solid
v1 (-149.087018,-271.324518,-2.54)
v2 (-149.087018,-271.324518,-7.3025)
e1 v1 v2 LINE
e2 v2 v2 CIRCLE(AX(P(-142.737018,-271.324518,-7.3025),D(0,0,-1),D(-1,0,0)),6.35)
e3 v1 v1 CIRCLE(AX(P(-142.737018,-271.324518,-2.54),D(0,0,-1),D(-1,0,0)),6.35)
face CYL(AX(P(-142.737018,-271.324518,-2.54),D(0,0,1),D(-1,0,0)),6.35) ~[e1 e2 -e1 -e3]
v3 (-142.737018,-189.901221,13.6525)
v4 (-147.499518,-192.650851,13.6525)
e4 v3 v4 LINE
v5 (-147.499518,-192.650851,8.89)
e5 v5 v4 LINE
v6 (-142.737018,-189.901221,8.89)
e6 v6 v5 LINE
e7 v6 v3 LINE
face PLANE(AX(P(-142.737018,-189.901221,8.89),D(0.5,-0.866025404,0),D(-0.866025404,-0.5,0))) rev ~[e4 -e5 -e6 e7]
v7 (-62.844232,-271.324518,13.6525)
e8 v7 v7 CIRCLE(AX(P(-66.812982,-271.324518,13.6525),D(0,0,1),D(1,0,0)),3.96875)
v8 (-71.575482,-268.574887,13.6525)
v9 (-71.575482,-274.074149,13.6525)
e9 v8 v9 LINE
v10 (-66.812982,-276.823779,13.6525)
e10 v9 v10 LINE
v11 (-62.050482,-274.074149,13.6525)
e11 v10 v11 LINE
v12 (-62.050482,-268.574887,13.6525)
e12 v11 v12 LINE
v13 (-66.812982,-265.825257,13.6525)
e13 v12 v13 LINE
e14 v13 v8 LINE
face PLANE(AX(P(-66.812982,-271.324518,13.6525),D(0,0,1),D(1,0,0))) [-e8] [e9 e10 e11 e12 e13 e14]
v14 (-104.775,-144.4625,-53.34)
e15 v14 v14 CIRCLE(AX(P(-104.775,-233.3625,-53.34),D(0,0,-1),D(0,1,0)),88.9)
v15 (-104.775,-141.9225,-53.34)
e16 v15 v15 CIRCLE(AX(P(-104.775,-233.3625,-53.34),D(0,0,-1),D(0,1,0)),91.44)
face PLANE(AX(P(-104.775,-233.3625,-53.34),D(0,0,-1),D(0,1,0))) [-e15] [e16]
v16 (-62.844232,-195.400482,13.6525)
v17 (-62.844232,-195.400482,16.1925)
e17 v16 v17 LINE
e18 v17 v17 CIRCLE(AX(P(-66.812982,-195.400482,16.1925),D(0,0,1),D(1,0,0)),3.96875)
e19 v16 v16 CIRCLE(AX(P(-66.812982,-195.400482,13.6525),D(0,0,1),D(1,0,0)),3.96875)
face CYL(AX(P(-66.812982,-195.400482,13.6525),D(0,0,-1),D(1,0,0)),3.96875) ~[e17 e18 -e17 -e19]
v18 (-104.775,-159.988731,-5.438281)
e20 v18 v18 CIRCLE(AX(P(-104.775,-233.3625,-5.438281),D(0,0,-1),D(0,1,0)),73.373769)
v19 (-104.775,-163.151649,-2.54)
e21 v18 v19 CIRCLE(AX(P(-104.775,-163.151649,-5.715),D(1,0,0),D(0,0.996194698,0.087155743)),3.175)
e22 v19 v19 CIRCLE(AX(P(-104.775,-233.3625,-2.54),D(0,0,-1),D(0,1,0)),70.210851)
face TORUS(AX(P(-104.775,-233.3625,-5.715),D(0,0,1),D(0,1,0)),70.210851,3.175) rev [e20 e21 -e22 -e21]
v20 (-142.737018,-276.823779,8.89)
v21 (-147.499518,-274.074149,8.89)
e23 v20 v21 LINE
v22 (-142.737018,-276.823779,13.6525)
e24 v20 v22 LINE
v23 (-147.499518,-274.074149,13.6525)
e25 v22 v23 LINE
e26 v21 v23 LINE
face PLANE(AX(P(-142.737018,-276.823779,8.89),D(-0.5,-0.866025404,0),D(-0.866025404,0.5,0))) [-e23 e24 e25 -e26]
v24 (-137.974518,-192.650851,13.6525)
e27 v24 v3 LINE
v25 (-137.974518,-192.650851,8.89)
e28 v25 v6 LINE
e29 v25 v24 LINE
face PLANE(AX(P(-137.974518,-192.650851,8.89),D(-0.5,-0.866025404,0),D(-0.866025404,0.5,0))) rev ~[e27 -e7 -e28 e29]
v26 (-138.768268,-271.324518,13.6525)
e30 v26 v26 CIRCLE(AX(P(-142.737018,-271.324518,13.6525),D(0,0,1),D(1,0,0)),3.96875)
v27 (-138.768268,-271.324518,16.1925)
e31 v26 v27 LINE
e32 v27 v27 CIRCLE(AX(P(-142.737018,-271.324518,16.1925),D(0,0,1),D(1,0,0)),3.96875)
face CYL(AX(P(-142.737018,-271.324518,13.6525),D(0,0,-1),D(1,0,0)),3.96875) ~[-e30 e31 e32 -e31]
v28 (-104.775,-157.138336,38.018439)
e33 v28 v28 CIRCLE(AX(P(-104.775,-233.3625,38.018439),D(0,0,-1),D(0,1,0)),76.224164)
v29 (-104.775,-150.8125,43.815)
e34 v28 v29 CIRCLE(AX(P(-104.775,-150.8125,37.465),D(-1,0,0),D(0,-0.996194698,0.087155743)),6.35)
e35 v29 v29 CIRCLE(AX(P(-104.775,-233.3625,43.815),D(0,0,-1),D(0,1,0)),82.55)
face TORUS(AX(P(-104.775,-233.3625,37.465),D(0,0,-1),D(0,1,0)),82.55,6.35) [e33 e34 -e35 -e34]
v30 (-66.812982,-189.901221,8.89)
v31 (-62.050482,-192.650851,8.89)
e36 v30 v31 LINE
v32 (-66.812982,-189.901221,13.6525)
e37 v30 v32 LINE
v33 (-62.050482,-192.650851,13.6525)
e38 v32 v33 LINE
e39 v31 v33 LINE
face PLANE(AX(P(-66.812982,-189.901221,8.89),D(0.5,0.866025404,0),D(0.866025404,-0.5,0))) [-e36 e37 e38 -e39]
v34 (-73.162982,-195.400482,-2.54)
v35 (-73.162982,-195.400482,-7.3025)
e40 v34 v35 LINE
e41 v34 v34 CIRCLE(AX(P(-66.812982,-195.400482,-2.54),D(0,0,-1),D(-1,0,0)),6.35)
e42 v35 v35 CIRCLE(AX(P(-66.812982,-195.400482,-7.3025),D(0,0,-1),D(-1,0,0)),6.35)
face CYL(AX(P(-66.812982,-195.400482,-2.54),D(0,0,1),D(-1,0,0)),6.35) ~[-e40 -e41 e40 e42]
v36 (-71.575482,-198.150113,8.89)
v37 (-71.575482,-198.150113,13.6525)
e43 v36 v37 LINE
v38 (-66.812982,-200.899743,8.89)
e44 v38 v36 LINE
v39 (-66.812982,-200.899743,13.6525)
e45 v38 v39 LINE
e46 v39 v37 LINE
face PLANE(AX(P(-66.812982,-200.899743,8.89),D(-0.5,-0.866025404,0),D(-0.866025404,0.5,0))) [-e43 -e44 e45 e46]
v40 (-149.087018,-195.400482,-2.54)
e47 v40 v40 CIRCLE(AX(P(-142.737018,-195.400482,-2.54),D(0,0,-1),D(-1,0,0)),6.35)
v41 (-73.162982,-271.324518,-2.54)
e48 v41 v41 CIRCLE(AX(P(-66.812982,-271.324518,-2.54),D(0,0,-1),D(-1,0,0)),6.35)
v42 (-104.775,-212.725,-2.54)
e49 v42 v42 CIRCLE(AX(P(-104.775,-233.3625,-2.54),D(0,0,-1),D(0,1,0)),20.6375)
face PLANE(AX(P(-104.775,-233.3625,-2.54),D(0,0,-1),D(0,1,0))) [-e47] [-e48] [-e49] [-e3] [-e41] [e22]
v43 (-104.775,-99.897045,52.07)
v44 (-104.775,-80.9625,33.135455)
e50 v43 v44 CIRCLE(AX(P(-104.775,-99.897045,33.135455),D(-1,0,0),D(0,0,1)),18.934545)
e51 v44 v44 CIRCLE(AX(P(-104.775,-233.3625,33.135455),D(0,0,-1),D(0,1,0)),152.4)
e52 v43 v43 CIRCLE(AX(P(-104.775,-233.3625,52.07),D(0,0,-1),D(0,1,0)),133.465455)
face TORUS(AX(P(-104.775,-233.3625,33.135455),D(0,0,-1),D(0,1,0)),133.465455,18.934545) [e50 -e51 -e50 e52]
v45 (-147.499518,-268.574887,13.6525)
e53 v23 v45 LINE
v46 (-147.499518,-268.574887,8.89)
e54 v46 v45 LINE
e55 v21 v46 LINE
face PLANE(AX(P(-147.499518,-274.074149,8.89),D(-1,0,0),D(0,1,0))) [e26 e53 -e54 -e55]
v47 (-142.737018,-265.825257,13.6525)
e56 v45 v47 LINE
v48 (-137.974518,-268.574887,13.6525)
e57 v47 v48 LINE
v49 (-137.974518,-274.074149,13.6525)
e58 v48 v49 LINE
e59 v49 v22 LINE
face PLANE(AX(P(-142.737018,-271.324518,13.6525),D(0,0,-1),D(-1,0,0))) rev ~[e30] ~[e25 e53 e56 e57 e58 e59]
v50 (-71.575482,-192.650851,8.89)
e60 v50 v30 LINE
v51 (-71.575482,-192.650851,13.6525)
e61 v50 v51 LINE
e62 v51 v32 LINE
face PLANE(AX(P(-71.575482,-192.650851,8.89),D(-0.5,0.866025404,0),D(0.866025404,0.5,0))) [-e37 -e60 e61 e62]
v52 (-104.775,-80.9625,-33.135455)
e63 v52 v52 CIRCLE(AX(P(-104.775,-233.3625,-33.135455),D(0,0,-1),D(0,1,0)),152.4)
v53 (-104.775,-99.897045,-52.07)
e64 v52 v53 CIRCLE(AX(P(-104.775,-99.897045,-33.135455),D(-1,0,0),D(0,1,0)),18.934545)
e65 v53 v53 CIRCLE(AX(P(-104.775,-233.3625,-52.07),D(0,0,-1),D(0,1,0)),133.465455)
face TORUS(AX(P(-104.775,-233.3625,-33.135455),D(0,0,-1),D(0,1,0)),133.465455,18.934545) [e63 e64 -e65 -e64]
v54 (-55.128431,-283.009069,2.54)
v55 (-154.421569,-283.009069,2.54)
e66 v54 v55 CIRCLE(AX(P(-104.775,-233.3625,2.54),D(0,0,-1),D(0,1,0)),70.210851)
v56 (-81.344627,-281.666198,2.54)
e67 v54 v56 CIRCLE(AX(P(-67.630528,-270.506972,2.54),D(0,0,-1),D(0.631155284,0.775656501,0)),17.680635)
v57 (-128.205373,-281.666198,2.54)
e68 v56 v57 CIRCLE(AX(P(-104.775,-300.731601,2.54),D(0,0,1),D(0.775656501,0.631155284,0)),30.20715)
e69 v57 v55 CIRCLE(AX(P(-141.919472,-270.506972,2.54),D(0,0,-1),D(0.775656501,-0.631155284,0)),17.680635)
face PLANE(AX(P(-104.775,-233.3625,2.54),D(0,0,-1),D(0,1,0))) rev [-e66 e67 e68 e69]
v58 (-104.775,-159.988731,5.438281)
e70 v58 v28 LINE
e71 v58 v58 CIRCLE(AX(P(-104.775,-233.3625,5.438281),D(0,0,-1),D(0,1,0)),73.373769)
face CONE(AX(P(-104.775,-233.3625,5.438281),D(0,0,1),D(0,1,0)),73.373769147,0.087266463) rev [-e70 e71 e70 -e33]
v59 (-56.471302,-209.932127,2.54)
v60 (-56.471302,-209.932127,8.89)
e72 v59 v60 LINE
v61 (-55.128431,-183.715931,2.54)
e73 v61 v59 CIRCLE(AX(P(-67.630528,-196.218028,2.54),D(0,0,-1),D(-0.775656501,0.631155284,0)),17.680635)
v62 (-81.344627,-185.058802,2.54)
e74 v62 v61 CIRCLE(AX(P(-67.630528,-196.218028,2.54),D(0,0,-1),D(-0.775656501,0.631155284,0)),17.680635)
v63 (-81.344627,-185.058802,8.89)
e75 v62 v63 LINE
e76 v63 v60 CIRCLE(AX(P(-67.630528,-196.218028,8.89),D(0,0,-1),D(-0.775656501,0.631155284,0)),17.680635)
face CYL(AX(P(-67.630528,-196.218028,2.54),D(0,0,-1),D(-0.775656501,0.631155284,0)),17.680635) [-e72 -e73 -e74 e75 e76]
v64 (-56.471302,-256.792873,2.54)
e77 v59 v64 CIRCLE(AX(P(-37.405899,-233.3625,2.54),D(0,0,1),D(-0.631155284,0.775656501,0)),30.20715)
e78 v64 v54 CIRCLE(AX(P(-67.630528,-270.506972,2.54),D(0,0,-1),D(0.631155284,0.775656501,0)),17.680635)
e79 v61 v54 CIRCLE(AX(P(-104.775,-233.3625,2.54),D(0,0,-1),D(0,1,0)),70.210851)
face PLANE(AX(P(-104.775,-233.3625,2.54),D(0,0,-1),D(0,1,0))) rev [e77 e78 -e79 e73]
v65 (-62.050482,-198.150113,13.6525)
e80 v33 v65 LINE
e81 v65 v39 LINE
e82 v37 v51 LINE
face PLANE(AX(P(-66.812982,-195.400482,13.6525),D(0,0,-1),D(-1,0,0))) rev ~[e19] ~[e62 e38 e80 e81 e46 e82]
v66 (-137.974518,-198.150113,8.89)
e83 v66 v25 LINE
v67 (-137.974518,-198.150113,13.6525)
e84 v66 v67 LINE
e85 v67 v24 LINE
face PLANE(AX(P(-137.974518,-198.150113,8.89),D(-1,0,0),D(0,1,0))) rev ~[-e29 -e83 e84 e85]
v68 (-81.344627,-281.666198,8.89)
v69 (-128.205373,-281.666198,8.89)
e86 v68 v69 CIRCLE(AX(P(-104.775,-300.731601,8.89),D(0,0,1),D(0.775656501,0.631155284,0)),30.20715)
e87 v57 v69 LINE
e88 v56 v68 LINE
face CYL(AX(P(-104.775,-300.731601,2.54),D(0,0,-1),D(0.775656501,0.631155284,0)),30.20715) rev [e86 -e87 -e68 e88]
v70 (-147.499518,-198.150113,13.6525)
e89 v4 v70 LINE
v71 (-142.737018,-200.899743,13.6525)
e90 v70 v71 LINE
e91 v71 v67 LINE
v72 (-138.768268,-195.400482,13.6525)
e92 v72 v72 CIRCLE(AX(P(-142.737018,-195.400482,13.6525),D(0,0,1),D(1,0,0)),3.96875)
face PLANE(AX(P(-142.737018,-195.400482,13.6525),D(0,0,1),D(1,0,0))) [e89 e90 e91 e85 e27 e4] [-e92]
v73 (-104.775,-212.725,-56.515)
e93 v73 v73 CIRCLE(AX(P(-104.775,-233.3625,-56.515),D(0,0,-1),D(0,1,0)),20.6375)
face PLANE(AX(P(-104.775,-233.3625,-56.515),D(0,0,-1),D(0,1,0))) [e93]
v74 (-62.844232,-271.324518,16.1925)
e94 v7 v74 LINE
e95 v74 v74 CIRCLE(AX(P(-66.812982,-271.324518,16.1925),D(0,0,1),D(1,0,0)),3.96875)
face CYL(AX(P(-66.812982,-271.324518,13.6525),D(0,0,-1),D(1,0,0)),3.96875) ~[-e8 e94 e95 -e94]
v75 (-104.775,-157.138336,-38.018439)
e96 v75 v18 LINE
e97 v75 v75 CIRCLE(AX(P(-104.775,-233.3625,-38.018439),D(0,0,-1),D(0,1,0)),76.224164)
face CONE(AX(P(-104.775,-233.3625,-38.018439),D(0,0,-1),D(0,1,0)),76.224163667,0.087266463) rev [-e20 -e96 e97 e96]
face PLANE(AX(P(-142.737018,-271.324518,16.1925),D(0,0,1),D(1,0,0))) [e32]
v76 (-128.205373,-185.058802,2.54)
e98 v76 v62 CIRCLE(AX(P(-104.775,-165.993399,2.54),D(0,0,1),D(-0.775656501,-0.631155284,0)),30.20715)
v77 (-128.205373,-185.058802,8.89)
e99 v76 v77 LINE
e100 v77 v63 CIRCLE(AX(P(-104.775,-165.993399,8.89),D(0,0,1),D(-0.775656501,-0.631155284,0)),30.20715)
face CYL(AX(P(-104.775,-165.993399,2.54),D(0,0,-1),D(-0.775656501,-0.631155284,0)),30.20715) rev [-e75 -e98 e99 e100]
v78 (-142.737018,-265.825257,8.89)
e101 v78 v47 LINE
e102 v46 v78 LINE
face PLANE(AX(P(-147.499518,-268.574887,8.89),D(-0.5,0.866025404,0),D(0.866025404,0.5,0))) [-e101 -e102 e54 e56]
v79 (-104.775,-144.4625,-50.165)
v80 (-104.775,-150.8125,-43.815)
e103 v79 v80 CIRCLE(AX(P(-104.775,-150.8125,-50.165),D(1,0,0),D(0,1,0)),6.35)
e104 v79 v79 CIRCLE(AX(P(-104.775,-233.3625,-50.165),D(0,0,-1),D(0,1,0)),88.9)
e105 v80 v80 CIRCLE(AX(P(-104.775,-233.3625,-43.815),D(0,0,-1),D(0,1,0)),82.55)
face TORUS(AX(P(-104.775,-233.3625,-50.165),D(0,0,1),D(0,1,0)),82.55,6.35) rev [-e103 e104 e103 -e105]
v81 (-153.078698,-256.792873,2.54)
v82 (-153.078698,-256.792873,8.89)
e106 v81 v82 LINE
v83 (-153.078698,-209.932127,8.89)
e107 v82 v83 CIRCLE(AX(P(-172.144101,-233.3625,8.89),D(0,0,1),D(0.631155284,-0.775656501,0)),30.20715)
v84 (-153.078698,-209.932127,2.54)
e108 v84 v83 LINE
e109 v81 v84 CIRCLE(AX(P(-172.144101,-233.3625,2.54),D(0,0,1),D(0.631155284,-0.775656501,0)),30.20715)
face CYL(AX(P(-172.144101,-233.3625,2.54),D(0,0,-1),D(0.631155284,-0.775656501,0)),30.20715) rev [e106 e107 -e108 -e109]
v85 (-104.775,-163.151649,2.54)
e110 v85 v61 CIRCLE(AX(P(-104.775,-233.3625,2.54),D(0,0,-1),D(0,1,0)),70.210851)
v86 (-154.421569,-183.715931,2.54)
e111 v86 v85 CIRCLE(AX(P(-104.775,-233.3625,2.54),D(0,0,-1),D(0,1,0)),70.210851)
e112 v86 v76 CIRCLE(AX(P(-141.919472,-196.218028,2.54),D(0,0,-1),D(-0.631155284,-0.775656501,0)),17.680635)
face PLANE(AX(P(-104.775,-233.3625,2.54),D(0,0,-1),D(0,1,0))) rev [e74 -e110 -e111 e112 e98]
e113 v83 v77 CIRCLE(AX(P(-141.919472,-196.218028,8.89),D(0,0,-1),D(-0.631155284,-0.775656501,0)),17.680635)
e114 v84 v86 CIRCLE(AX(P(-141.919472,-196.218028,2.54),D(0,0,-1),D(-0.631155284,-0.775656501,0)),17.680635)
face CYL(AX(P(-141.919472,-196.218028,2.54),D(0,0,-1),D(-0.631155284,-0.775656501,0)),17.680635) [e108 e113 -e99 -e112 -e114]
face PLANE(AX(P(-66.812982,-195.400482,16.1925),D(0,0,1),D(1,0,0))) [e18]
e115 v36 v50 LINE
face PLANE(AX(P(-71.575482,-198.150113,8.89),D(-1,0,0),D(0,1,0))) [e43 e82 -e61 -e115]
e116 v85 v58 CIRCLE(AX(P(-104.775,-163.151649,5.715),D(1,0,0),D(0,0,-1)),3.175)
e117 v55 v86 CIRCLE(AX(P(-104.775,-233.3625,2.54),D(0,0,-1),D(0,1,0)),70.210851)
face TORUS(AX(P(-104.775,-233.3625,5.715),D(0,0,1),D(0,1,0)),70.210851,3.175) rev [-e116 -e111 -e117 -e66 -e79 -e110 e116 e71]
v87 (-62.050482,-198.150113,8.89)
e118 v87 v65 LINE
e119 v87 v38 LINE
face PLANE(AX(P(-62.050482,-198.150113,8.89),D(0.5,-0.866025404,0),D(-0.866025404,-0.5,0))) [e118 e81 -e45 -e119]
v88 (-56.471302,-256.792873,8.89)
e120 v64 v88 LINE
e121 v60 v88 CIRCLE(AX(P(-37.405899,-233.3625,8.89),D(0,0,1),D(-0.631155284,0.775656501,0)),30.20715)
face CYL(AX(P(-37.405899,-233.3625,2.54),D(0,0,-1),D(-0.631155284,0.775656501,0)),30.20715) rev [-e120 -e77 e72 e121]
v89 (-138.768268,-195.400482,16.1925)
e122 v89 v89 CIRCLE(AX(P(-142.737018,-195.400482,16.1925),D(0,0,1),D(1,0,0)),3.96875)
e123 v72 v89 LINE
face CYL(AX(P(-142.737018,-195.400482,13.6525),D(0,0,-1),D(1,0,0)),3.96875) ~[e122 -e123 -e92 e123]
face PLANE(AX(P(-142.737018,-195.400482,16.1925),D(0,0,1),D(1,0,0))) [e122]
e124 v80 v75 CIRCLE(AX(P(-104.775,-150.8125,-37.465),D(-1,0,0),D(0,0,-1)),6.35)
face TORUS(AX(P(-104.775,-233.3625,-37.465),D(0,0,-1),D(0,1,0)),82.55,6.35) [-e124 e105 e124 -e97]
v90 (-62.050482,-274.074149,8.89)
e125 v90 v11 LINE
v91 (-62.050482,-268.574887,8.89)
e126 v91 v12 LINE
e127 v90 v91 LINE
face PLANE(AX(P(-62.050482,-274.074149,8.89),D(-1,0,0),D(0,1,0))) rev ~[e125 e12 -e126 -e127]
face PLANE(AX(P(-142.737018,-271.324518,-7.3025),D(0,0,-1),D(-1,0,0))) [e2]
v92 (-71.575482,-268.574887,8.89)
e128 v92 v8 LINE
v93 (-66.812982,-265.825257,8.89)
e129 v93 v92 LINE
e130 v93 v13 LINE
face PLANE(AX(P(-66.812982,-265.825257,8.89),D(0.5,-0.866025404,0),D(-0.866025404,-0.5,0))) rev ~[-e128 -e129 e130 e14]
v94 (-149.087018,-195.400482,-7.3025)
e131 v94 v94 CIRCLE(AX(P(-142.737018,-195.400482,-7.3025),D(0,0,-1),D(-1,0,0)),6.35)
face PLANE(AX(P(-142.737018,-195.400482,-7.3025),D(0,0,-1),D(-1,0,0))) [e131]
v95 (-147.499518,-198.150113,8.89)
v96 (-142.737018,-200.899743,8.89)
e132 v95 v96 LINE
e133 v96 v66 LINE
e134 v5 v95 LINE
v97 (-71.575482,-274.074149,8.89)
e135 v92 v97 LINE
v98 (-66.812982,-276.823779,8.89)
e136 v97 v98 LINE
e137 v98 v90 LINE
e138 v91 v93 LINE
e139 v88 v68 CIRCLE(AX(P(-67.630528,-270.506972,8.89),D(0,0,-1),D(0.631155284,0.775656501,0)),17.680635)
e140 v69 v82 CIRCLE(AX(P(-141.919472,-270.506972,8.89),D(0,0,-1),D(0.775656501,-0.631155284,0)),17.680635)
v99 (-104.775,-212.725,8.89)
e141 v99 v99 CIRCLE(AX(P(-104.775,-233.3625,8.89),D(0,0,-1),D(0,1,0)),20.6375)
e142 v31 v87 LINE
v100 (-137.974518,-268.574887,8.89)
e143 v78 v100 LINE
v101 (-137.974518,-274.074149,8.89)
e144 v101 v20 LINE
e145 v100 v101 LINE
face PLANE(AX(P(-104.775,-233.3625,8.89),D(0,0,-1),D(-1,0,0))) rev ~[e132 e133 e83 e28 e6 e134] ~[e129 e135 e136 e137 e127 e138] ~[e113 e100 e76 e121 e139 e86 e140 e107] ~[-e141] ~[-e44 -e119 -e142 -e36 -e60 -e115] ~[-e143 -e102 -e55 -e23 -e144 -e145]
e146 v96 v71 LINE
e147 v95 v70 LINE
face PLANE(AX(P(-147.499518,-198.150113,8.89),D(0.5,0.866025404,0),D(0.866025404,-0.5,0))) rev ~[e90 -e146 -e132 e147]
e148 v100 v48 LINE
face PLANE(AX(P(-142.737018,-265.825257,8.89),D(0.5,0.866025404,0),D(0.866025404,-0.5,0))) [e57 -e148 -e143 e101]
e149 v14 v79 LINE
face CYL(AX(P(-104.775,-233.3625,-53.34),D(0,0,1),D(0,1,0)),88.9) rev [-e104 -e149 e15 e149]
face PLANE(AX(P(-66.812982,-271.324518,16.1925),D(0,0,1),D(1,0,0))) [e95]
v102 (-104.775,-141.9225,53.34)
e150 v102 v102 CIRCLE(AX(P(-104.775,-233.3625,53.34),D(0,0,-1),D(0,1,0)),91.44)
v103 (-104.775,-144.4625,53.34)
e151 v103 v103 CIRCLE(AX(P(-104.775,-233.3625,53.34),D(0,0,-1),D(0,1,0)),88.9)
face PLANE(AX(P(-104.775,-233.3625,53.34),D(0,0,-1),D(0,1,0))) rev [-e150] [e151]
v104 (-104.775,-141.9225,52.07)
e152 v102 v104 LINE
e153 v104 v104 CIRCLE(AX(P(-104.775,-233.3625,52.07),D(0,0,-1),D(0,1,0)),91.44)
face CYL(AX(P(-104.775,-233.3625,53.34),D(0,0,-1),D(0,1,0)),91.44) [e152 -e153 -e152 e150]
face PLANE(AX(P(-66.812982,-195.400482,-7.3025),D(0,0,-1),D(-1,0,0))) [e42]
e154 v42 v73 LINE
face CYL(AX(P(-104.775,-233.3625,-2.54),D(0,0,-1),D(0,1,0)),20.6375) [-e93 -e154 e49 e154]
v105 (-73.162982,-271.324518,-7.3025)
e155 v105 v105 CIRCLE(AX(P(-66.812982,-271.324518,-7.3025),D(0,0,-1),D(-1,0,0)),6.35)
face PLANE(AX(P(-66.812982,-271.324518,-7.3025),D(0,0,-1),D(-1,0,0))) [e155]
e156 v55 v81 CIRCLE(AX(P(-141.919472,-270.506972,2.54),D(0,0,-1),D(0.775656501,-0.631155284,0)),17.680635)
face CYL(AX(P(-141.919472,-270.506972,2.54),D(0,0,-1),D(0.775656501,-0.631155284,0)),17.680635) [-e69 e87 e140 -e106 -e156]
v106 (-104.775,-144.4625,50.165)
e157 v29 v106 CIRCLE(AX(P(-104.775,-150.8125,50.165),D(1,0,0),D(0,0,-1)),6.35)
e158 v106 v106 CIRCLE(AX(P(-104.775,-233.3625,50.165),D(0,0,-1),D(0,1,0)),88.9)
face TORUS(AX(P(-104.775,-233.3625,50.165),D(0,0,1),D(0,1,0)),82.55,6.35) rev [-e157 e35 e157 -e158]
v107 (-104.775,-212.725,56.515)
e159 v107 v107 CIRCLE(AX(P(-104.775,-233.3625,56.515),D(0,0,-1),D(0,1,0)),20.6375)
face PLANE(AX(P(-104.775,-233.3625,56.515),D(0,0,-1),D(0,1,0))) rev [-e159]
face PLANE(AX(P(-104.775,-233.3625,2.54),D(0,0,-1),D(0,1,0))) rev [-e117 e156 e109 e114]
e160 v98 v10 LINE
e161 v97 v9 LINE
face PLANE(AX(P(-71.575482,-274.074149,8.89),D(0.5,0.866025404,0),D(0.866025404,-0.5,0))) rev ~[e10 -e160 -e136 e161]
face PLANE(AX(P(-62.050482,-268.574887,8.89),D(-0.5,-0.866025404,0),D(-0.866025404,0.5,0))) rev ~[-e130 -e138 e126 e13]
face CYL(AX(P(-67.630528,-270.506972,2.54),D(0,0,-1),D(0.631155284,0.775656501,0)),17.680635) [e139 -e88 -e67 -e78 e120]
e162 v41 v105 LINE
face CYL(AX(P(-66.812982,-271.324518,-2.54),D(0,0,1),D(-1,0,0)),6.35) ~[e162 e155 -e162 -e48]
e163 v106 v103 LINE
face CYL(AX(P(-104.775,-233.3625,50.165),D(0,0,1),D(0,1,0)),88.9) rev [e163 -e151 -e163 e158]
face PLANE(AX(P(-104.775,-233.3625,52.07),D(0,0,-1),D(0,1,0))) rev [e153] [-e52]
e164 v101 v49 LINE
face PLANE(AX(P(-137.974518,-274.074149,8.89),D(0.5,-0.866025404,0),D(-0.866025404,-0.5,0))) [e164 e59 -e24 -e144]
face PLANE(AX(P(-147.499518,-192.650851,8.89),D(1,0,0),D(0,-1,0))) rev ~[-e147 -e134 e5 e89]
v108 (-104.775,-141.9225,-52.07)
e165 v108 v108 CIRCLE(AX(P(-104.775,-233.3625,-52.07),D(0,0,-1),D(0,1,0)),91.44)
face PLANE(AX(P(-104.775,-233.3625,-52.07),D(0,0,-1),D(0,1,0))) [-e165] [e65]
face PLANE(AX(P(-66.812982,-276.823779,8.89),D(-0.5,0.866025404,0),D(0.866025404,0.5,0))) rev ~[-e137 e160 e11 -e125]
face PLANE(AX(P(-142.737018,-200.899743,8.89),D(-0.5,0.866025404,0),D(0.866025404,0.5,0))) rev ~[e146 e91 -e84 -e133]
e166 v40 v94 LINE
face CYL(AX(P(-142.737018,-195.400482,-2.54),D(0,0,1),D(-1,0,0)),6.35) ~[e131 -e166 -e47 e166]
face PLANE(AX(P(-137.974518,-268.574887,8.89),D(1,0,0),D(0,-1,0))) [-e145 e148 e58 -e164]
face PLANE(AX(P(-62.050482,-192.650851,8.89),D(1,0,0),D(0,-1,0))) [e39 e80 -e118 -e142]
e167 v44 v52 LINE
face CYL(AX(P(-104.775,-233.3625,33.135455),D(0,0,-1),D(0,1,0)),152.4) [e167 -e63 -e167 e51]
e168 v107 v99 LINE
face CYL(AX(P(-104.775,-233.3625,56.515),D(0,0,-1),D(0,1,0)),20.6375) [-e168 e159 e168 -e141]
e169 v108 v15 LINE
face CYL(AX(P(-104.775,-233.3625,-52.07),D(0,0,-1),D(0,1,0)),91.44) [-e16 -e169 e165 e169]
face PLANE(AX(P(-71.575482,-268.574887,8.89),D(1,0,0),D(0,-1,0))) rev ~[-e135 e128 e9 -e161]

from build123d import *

# Parameters (mm, degrees)
BOSS_EXTRUDE5_DEPTH = 6.35
BOSS_EXTRUDE6_DEPTH = 4.7625
SKETCH15_R          = 3.96875
BOSS_EXTRUDE7_DEPTH = 2.54
SKETCH16_R          = 6.35
BOSS_EXTRUDE8_DEPTH = 4.7625


with BuildPart() as part:
    # Sketch6 → Revolve2 (revolve)
    with BuildSketch(Plane(origin=(-104.775, 0, 0), x_dir=(0, 0, -1), z_dir=(1, 0, 0))):
        with BuildLine():
            Line((-52.07, -141.9225), (-52.07, -99.897045455))
            ThreePointArc((-52.07, -99.897045455), (-46.524200035, -86.508299965), (-33.135454545, -80.9625))
            Line((-33.135454545, -80.9625), (-28.993522727, -80.9625))
            Line((-28.993522727, -80.9625), (-20.709659091, -80.9625))
            Line((-20.709659091, -80.9625), (-12.425795455, -80.9625))
            Line((-12.425795455, -80.9625), (-4.141931818, -80.9625))
            Line((-4.141931818, -80.9625), (4.141931818, -80.9625))
            Line((4.141931818, -80.9625), (12.425795455, -80.9625))
            Line((12.425795455, -80.9625), (20.709659091, -80.9625))
            Line((20.709659091, -80.9625), (28.993522727, -80.9625))
            Line((28.993522727, -80.9625), (33.135454545, -80.9625))
            ThreePointArc((33.135454545, -80.9625), (46.524200035, -86.508299965), (52.07, -99.897045455))
            Line((52.07, -99.897045455), (52.07, -141.9225))
            Line((52.07, -141.9225), (53.34, -141.9225))
            Line((53.34, -141.9225), (53.34, -144.4625))
            Line((53.34, -144.4625), (50.165, -144.4625))
            ThreePointArc((50.165, -144.4625), (45.674871939, -146.322371939), (43.815, -150.8125))
            ThreePointArc((43.815, -150.8125), (42.146711089, -155.102497818), (38.018438966, -157.138336333))
            Line((38.018438966, -157.138336333), (5.438280517, -159.988730853))
            ThreePointArc((5.438280517, -159.988730853), (3.374144456, -161.00665011), (2.54, -163.15164902))
            Line((2.54, -163.15164902), (2.54, -212.725))
            Line((2.54, -212.725), (53.34, -212.725))
            Line((53.34, -212.725), (56.515, -212.725))
            Line((56.515, -212.725), (56.515, -233.3625))
            Line((56.515, -233.3625), (-56.515, -233.3625))
            Line((-56.515, -233.3625), (-56.515, -212.725))
            Line((-56.515, -212.725), (-53.34, -212.725))
            Line((-53.34, -212.725), (-2.54, -212.725))
            Line((-2.54, -212.725), (-2.54, -163.15164902))
            ThreePointArc((-2.54, -163.15164902), (-3.374144456, -161.00665011), (-5.438280517, -159.988730853))
            Line((-5.438280517, -159.988730853), (-38.018438966, -157.138336333))
            ThreePointArc((-38.018438966, -157.138336333), (-42.146711089, -155.102497818), (-43.815, -150.8125))
            ThreePointArc((-43.815, -150.8125), (-45.674871939, -146.322371939), (-50.165, -144.4625))
            Line((-50.165, -144.4625), (-53.34, -144.4625))
            Line((-53.34, -144.4625), (-53.34, -141.9225))
            Line((-53.34, -141.9225), (-52.07, -141.9225))
        make_face()
    revolve(axis=Axis((-104.775, -233.3625, 111.145303652), (0, 0, -1)))

    # Sketch13 → Boss-Extrude5 (add)
    with BuildSketch(Plane.XY.offset(2.54)):
        with BuildLine():
            ThreePointArc((-153.078698148, -209.932127396), (-154.421568841, -183.715931159), (-128.205372604, -185.058801852))
            ThreePointArc((-128.205372604, -185.058801852), (-104.775, -196.200549673), (-81.344627396, -185.058801852))
            ThreePointArc((-81.344627396, -185.058801852), (-55.128431159, -183.715931159), (-56.471301852, -209.932127396))
            ThreePointArc((-56.471301852, -209.932127396), (-67.613049673, -233.3625), (-56.471301852, -256.792872604))
            ThreePointArc((-56.471301852, -256.792872604), (-55.128431159, -283.009068841), (-81.344627396, -281.666198148))
            ThreePointArc((-81.344627396, -281.666198148), (-104.775, -270.524450327), (-128.205372604, -281.666198148))
            ThreePointArc((-128.205372604, -281.666198148), (-154.421568841, -283.009068841), (-153.078698148, -256.792872604))
            ThreePointArc((-153.078698148, -256.792872604), (-141.936950327, -233.3625), (-153.078698148, -209.932127396))
        make_face()
    extrude(amount=BOSS_EXTRUDE5_DEPTH)

    # Sketch14 → Boss-Extrude6 (add)
    with BuildSketch(Plane.XY.offset(8.89)):
        Polygon((-142.73701796, -200.899743354), (-137.97451796, -198.150112697), (-137.97451796, -192.650851383), (-142.73701796, -189.901220726), (-147.49951796, -192.650851383), (-147.49951796, -198.150112697), align=None)
        Polygon((-62.05048204, -198.150112697), (-66.81298204, -200.899743354), (-71.57548204, -198.150112697), (-71.57548204, -192.650851383), (-66.81298204, -189.901220726), (-62.05048204, -192.650851383), align=None)
        Polygon((-66.81298204, -265.825256646), (-71.57548204, -268.574887303), (-71.57548204, -274.074148617), (-66.81298204, -276.823779274), (-62.05048204, -274.074148617), (-62.05048204, -268.574887303), align=None)
        Polygon((-147.49951796, -268.574887303), (-142.73701796, -265.825256646), (-137.97451796, -268.574887303), (-137.97451796, -274.074148617), (-142.73701796, -276.823779274), (-147.49951796, -274.074148617), align=None)
    extrude(amount=BOSS_EXTRUDE6_DEPTH)

    # Sketch15 → Boss-Extrude7 (add)
    with BuildSketch(Plane.XY.offset(13.6525)):
        with Locations((-142.73701796, -195.40048204)):
            Circle(SKETCH15_R)
        with Locations((-66.81298204, -195.40048204)):
            Circle(SKETCH15_R)
        with Locations((-142.73701796, -271.32451796)):
            Circle(SKETCH15_R)
        with Locations((-66.81298204, -271.32451796)):
            Circle(SKETCH15_R)
    extrude(amount=BOSS_EXTRUDE7_DEPTH)

    # Sketch16 → Boss-Extrude8 (add)
    with BuildSketch(Plane(origin=(0, 0, -2.54), x_dir=(-1, 0, 0), z_dir=(0, 0, -1))):
        with Locations((66.81298204, -195.40048204)):
            Circle(SKETCH16_R)
        with Locations((142.73701796, -195.40048204)):
            Circle(SKETCH16_R)
        with Locations((142.73701796, -271.32451796)):
            Circle(SKETCH16_R)
        with Locations((66.81298204, -271.32451796)):
            Circle(SKETCH16_R)
    extrude(amount=BOSS_EXTRUDE8_DEPTH)


solid = part.part
